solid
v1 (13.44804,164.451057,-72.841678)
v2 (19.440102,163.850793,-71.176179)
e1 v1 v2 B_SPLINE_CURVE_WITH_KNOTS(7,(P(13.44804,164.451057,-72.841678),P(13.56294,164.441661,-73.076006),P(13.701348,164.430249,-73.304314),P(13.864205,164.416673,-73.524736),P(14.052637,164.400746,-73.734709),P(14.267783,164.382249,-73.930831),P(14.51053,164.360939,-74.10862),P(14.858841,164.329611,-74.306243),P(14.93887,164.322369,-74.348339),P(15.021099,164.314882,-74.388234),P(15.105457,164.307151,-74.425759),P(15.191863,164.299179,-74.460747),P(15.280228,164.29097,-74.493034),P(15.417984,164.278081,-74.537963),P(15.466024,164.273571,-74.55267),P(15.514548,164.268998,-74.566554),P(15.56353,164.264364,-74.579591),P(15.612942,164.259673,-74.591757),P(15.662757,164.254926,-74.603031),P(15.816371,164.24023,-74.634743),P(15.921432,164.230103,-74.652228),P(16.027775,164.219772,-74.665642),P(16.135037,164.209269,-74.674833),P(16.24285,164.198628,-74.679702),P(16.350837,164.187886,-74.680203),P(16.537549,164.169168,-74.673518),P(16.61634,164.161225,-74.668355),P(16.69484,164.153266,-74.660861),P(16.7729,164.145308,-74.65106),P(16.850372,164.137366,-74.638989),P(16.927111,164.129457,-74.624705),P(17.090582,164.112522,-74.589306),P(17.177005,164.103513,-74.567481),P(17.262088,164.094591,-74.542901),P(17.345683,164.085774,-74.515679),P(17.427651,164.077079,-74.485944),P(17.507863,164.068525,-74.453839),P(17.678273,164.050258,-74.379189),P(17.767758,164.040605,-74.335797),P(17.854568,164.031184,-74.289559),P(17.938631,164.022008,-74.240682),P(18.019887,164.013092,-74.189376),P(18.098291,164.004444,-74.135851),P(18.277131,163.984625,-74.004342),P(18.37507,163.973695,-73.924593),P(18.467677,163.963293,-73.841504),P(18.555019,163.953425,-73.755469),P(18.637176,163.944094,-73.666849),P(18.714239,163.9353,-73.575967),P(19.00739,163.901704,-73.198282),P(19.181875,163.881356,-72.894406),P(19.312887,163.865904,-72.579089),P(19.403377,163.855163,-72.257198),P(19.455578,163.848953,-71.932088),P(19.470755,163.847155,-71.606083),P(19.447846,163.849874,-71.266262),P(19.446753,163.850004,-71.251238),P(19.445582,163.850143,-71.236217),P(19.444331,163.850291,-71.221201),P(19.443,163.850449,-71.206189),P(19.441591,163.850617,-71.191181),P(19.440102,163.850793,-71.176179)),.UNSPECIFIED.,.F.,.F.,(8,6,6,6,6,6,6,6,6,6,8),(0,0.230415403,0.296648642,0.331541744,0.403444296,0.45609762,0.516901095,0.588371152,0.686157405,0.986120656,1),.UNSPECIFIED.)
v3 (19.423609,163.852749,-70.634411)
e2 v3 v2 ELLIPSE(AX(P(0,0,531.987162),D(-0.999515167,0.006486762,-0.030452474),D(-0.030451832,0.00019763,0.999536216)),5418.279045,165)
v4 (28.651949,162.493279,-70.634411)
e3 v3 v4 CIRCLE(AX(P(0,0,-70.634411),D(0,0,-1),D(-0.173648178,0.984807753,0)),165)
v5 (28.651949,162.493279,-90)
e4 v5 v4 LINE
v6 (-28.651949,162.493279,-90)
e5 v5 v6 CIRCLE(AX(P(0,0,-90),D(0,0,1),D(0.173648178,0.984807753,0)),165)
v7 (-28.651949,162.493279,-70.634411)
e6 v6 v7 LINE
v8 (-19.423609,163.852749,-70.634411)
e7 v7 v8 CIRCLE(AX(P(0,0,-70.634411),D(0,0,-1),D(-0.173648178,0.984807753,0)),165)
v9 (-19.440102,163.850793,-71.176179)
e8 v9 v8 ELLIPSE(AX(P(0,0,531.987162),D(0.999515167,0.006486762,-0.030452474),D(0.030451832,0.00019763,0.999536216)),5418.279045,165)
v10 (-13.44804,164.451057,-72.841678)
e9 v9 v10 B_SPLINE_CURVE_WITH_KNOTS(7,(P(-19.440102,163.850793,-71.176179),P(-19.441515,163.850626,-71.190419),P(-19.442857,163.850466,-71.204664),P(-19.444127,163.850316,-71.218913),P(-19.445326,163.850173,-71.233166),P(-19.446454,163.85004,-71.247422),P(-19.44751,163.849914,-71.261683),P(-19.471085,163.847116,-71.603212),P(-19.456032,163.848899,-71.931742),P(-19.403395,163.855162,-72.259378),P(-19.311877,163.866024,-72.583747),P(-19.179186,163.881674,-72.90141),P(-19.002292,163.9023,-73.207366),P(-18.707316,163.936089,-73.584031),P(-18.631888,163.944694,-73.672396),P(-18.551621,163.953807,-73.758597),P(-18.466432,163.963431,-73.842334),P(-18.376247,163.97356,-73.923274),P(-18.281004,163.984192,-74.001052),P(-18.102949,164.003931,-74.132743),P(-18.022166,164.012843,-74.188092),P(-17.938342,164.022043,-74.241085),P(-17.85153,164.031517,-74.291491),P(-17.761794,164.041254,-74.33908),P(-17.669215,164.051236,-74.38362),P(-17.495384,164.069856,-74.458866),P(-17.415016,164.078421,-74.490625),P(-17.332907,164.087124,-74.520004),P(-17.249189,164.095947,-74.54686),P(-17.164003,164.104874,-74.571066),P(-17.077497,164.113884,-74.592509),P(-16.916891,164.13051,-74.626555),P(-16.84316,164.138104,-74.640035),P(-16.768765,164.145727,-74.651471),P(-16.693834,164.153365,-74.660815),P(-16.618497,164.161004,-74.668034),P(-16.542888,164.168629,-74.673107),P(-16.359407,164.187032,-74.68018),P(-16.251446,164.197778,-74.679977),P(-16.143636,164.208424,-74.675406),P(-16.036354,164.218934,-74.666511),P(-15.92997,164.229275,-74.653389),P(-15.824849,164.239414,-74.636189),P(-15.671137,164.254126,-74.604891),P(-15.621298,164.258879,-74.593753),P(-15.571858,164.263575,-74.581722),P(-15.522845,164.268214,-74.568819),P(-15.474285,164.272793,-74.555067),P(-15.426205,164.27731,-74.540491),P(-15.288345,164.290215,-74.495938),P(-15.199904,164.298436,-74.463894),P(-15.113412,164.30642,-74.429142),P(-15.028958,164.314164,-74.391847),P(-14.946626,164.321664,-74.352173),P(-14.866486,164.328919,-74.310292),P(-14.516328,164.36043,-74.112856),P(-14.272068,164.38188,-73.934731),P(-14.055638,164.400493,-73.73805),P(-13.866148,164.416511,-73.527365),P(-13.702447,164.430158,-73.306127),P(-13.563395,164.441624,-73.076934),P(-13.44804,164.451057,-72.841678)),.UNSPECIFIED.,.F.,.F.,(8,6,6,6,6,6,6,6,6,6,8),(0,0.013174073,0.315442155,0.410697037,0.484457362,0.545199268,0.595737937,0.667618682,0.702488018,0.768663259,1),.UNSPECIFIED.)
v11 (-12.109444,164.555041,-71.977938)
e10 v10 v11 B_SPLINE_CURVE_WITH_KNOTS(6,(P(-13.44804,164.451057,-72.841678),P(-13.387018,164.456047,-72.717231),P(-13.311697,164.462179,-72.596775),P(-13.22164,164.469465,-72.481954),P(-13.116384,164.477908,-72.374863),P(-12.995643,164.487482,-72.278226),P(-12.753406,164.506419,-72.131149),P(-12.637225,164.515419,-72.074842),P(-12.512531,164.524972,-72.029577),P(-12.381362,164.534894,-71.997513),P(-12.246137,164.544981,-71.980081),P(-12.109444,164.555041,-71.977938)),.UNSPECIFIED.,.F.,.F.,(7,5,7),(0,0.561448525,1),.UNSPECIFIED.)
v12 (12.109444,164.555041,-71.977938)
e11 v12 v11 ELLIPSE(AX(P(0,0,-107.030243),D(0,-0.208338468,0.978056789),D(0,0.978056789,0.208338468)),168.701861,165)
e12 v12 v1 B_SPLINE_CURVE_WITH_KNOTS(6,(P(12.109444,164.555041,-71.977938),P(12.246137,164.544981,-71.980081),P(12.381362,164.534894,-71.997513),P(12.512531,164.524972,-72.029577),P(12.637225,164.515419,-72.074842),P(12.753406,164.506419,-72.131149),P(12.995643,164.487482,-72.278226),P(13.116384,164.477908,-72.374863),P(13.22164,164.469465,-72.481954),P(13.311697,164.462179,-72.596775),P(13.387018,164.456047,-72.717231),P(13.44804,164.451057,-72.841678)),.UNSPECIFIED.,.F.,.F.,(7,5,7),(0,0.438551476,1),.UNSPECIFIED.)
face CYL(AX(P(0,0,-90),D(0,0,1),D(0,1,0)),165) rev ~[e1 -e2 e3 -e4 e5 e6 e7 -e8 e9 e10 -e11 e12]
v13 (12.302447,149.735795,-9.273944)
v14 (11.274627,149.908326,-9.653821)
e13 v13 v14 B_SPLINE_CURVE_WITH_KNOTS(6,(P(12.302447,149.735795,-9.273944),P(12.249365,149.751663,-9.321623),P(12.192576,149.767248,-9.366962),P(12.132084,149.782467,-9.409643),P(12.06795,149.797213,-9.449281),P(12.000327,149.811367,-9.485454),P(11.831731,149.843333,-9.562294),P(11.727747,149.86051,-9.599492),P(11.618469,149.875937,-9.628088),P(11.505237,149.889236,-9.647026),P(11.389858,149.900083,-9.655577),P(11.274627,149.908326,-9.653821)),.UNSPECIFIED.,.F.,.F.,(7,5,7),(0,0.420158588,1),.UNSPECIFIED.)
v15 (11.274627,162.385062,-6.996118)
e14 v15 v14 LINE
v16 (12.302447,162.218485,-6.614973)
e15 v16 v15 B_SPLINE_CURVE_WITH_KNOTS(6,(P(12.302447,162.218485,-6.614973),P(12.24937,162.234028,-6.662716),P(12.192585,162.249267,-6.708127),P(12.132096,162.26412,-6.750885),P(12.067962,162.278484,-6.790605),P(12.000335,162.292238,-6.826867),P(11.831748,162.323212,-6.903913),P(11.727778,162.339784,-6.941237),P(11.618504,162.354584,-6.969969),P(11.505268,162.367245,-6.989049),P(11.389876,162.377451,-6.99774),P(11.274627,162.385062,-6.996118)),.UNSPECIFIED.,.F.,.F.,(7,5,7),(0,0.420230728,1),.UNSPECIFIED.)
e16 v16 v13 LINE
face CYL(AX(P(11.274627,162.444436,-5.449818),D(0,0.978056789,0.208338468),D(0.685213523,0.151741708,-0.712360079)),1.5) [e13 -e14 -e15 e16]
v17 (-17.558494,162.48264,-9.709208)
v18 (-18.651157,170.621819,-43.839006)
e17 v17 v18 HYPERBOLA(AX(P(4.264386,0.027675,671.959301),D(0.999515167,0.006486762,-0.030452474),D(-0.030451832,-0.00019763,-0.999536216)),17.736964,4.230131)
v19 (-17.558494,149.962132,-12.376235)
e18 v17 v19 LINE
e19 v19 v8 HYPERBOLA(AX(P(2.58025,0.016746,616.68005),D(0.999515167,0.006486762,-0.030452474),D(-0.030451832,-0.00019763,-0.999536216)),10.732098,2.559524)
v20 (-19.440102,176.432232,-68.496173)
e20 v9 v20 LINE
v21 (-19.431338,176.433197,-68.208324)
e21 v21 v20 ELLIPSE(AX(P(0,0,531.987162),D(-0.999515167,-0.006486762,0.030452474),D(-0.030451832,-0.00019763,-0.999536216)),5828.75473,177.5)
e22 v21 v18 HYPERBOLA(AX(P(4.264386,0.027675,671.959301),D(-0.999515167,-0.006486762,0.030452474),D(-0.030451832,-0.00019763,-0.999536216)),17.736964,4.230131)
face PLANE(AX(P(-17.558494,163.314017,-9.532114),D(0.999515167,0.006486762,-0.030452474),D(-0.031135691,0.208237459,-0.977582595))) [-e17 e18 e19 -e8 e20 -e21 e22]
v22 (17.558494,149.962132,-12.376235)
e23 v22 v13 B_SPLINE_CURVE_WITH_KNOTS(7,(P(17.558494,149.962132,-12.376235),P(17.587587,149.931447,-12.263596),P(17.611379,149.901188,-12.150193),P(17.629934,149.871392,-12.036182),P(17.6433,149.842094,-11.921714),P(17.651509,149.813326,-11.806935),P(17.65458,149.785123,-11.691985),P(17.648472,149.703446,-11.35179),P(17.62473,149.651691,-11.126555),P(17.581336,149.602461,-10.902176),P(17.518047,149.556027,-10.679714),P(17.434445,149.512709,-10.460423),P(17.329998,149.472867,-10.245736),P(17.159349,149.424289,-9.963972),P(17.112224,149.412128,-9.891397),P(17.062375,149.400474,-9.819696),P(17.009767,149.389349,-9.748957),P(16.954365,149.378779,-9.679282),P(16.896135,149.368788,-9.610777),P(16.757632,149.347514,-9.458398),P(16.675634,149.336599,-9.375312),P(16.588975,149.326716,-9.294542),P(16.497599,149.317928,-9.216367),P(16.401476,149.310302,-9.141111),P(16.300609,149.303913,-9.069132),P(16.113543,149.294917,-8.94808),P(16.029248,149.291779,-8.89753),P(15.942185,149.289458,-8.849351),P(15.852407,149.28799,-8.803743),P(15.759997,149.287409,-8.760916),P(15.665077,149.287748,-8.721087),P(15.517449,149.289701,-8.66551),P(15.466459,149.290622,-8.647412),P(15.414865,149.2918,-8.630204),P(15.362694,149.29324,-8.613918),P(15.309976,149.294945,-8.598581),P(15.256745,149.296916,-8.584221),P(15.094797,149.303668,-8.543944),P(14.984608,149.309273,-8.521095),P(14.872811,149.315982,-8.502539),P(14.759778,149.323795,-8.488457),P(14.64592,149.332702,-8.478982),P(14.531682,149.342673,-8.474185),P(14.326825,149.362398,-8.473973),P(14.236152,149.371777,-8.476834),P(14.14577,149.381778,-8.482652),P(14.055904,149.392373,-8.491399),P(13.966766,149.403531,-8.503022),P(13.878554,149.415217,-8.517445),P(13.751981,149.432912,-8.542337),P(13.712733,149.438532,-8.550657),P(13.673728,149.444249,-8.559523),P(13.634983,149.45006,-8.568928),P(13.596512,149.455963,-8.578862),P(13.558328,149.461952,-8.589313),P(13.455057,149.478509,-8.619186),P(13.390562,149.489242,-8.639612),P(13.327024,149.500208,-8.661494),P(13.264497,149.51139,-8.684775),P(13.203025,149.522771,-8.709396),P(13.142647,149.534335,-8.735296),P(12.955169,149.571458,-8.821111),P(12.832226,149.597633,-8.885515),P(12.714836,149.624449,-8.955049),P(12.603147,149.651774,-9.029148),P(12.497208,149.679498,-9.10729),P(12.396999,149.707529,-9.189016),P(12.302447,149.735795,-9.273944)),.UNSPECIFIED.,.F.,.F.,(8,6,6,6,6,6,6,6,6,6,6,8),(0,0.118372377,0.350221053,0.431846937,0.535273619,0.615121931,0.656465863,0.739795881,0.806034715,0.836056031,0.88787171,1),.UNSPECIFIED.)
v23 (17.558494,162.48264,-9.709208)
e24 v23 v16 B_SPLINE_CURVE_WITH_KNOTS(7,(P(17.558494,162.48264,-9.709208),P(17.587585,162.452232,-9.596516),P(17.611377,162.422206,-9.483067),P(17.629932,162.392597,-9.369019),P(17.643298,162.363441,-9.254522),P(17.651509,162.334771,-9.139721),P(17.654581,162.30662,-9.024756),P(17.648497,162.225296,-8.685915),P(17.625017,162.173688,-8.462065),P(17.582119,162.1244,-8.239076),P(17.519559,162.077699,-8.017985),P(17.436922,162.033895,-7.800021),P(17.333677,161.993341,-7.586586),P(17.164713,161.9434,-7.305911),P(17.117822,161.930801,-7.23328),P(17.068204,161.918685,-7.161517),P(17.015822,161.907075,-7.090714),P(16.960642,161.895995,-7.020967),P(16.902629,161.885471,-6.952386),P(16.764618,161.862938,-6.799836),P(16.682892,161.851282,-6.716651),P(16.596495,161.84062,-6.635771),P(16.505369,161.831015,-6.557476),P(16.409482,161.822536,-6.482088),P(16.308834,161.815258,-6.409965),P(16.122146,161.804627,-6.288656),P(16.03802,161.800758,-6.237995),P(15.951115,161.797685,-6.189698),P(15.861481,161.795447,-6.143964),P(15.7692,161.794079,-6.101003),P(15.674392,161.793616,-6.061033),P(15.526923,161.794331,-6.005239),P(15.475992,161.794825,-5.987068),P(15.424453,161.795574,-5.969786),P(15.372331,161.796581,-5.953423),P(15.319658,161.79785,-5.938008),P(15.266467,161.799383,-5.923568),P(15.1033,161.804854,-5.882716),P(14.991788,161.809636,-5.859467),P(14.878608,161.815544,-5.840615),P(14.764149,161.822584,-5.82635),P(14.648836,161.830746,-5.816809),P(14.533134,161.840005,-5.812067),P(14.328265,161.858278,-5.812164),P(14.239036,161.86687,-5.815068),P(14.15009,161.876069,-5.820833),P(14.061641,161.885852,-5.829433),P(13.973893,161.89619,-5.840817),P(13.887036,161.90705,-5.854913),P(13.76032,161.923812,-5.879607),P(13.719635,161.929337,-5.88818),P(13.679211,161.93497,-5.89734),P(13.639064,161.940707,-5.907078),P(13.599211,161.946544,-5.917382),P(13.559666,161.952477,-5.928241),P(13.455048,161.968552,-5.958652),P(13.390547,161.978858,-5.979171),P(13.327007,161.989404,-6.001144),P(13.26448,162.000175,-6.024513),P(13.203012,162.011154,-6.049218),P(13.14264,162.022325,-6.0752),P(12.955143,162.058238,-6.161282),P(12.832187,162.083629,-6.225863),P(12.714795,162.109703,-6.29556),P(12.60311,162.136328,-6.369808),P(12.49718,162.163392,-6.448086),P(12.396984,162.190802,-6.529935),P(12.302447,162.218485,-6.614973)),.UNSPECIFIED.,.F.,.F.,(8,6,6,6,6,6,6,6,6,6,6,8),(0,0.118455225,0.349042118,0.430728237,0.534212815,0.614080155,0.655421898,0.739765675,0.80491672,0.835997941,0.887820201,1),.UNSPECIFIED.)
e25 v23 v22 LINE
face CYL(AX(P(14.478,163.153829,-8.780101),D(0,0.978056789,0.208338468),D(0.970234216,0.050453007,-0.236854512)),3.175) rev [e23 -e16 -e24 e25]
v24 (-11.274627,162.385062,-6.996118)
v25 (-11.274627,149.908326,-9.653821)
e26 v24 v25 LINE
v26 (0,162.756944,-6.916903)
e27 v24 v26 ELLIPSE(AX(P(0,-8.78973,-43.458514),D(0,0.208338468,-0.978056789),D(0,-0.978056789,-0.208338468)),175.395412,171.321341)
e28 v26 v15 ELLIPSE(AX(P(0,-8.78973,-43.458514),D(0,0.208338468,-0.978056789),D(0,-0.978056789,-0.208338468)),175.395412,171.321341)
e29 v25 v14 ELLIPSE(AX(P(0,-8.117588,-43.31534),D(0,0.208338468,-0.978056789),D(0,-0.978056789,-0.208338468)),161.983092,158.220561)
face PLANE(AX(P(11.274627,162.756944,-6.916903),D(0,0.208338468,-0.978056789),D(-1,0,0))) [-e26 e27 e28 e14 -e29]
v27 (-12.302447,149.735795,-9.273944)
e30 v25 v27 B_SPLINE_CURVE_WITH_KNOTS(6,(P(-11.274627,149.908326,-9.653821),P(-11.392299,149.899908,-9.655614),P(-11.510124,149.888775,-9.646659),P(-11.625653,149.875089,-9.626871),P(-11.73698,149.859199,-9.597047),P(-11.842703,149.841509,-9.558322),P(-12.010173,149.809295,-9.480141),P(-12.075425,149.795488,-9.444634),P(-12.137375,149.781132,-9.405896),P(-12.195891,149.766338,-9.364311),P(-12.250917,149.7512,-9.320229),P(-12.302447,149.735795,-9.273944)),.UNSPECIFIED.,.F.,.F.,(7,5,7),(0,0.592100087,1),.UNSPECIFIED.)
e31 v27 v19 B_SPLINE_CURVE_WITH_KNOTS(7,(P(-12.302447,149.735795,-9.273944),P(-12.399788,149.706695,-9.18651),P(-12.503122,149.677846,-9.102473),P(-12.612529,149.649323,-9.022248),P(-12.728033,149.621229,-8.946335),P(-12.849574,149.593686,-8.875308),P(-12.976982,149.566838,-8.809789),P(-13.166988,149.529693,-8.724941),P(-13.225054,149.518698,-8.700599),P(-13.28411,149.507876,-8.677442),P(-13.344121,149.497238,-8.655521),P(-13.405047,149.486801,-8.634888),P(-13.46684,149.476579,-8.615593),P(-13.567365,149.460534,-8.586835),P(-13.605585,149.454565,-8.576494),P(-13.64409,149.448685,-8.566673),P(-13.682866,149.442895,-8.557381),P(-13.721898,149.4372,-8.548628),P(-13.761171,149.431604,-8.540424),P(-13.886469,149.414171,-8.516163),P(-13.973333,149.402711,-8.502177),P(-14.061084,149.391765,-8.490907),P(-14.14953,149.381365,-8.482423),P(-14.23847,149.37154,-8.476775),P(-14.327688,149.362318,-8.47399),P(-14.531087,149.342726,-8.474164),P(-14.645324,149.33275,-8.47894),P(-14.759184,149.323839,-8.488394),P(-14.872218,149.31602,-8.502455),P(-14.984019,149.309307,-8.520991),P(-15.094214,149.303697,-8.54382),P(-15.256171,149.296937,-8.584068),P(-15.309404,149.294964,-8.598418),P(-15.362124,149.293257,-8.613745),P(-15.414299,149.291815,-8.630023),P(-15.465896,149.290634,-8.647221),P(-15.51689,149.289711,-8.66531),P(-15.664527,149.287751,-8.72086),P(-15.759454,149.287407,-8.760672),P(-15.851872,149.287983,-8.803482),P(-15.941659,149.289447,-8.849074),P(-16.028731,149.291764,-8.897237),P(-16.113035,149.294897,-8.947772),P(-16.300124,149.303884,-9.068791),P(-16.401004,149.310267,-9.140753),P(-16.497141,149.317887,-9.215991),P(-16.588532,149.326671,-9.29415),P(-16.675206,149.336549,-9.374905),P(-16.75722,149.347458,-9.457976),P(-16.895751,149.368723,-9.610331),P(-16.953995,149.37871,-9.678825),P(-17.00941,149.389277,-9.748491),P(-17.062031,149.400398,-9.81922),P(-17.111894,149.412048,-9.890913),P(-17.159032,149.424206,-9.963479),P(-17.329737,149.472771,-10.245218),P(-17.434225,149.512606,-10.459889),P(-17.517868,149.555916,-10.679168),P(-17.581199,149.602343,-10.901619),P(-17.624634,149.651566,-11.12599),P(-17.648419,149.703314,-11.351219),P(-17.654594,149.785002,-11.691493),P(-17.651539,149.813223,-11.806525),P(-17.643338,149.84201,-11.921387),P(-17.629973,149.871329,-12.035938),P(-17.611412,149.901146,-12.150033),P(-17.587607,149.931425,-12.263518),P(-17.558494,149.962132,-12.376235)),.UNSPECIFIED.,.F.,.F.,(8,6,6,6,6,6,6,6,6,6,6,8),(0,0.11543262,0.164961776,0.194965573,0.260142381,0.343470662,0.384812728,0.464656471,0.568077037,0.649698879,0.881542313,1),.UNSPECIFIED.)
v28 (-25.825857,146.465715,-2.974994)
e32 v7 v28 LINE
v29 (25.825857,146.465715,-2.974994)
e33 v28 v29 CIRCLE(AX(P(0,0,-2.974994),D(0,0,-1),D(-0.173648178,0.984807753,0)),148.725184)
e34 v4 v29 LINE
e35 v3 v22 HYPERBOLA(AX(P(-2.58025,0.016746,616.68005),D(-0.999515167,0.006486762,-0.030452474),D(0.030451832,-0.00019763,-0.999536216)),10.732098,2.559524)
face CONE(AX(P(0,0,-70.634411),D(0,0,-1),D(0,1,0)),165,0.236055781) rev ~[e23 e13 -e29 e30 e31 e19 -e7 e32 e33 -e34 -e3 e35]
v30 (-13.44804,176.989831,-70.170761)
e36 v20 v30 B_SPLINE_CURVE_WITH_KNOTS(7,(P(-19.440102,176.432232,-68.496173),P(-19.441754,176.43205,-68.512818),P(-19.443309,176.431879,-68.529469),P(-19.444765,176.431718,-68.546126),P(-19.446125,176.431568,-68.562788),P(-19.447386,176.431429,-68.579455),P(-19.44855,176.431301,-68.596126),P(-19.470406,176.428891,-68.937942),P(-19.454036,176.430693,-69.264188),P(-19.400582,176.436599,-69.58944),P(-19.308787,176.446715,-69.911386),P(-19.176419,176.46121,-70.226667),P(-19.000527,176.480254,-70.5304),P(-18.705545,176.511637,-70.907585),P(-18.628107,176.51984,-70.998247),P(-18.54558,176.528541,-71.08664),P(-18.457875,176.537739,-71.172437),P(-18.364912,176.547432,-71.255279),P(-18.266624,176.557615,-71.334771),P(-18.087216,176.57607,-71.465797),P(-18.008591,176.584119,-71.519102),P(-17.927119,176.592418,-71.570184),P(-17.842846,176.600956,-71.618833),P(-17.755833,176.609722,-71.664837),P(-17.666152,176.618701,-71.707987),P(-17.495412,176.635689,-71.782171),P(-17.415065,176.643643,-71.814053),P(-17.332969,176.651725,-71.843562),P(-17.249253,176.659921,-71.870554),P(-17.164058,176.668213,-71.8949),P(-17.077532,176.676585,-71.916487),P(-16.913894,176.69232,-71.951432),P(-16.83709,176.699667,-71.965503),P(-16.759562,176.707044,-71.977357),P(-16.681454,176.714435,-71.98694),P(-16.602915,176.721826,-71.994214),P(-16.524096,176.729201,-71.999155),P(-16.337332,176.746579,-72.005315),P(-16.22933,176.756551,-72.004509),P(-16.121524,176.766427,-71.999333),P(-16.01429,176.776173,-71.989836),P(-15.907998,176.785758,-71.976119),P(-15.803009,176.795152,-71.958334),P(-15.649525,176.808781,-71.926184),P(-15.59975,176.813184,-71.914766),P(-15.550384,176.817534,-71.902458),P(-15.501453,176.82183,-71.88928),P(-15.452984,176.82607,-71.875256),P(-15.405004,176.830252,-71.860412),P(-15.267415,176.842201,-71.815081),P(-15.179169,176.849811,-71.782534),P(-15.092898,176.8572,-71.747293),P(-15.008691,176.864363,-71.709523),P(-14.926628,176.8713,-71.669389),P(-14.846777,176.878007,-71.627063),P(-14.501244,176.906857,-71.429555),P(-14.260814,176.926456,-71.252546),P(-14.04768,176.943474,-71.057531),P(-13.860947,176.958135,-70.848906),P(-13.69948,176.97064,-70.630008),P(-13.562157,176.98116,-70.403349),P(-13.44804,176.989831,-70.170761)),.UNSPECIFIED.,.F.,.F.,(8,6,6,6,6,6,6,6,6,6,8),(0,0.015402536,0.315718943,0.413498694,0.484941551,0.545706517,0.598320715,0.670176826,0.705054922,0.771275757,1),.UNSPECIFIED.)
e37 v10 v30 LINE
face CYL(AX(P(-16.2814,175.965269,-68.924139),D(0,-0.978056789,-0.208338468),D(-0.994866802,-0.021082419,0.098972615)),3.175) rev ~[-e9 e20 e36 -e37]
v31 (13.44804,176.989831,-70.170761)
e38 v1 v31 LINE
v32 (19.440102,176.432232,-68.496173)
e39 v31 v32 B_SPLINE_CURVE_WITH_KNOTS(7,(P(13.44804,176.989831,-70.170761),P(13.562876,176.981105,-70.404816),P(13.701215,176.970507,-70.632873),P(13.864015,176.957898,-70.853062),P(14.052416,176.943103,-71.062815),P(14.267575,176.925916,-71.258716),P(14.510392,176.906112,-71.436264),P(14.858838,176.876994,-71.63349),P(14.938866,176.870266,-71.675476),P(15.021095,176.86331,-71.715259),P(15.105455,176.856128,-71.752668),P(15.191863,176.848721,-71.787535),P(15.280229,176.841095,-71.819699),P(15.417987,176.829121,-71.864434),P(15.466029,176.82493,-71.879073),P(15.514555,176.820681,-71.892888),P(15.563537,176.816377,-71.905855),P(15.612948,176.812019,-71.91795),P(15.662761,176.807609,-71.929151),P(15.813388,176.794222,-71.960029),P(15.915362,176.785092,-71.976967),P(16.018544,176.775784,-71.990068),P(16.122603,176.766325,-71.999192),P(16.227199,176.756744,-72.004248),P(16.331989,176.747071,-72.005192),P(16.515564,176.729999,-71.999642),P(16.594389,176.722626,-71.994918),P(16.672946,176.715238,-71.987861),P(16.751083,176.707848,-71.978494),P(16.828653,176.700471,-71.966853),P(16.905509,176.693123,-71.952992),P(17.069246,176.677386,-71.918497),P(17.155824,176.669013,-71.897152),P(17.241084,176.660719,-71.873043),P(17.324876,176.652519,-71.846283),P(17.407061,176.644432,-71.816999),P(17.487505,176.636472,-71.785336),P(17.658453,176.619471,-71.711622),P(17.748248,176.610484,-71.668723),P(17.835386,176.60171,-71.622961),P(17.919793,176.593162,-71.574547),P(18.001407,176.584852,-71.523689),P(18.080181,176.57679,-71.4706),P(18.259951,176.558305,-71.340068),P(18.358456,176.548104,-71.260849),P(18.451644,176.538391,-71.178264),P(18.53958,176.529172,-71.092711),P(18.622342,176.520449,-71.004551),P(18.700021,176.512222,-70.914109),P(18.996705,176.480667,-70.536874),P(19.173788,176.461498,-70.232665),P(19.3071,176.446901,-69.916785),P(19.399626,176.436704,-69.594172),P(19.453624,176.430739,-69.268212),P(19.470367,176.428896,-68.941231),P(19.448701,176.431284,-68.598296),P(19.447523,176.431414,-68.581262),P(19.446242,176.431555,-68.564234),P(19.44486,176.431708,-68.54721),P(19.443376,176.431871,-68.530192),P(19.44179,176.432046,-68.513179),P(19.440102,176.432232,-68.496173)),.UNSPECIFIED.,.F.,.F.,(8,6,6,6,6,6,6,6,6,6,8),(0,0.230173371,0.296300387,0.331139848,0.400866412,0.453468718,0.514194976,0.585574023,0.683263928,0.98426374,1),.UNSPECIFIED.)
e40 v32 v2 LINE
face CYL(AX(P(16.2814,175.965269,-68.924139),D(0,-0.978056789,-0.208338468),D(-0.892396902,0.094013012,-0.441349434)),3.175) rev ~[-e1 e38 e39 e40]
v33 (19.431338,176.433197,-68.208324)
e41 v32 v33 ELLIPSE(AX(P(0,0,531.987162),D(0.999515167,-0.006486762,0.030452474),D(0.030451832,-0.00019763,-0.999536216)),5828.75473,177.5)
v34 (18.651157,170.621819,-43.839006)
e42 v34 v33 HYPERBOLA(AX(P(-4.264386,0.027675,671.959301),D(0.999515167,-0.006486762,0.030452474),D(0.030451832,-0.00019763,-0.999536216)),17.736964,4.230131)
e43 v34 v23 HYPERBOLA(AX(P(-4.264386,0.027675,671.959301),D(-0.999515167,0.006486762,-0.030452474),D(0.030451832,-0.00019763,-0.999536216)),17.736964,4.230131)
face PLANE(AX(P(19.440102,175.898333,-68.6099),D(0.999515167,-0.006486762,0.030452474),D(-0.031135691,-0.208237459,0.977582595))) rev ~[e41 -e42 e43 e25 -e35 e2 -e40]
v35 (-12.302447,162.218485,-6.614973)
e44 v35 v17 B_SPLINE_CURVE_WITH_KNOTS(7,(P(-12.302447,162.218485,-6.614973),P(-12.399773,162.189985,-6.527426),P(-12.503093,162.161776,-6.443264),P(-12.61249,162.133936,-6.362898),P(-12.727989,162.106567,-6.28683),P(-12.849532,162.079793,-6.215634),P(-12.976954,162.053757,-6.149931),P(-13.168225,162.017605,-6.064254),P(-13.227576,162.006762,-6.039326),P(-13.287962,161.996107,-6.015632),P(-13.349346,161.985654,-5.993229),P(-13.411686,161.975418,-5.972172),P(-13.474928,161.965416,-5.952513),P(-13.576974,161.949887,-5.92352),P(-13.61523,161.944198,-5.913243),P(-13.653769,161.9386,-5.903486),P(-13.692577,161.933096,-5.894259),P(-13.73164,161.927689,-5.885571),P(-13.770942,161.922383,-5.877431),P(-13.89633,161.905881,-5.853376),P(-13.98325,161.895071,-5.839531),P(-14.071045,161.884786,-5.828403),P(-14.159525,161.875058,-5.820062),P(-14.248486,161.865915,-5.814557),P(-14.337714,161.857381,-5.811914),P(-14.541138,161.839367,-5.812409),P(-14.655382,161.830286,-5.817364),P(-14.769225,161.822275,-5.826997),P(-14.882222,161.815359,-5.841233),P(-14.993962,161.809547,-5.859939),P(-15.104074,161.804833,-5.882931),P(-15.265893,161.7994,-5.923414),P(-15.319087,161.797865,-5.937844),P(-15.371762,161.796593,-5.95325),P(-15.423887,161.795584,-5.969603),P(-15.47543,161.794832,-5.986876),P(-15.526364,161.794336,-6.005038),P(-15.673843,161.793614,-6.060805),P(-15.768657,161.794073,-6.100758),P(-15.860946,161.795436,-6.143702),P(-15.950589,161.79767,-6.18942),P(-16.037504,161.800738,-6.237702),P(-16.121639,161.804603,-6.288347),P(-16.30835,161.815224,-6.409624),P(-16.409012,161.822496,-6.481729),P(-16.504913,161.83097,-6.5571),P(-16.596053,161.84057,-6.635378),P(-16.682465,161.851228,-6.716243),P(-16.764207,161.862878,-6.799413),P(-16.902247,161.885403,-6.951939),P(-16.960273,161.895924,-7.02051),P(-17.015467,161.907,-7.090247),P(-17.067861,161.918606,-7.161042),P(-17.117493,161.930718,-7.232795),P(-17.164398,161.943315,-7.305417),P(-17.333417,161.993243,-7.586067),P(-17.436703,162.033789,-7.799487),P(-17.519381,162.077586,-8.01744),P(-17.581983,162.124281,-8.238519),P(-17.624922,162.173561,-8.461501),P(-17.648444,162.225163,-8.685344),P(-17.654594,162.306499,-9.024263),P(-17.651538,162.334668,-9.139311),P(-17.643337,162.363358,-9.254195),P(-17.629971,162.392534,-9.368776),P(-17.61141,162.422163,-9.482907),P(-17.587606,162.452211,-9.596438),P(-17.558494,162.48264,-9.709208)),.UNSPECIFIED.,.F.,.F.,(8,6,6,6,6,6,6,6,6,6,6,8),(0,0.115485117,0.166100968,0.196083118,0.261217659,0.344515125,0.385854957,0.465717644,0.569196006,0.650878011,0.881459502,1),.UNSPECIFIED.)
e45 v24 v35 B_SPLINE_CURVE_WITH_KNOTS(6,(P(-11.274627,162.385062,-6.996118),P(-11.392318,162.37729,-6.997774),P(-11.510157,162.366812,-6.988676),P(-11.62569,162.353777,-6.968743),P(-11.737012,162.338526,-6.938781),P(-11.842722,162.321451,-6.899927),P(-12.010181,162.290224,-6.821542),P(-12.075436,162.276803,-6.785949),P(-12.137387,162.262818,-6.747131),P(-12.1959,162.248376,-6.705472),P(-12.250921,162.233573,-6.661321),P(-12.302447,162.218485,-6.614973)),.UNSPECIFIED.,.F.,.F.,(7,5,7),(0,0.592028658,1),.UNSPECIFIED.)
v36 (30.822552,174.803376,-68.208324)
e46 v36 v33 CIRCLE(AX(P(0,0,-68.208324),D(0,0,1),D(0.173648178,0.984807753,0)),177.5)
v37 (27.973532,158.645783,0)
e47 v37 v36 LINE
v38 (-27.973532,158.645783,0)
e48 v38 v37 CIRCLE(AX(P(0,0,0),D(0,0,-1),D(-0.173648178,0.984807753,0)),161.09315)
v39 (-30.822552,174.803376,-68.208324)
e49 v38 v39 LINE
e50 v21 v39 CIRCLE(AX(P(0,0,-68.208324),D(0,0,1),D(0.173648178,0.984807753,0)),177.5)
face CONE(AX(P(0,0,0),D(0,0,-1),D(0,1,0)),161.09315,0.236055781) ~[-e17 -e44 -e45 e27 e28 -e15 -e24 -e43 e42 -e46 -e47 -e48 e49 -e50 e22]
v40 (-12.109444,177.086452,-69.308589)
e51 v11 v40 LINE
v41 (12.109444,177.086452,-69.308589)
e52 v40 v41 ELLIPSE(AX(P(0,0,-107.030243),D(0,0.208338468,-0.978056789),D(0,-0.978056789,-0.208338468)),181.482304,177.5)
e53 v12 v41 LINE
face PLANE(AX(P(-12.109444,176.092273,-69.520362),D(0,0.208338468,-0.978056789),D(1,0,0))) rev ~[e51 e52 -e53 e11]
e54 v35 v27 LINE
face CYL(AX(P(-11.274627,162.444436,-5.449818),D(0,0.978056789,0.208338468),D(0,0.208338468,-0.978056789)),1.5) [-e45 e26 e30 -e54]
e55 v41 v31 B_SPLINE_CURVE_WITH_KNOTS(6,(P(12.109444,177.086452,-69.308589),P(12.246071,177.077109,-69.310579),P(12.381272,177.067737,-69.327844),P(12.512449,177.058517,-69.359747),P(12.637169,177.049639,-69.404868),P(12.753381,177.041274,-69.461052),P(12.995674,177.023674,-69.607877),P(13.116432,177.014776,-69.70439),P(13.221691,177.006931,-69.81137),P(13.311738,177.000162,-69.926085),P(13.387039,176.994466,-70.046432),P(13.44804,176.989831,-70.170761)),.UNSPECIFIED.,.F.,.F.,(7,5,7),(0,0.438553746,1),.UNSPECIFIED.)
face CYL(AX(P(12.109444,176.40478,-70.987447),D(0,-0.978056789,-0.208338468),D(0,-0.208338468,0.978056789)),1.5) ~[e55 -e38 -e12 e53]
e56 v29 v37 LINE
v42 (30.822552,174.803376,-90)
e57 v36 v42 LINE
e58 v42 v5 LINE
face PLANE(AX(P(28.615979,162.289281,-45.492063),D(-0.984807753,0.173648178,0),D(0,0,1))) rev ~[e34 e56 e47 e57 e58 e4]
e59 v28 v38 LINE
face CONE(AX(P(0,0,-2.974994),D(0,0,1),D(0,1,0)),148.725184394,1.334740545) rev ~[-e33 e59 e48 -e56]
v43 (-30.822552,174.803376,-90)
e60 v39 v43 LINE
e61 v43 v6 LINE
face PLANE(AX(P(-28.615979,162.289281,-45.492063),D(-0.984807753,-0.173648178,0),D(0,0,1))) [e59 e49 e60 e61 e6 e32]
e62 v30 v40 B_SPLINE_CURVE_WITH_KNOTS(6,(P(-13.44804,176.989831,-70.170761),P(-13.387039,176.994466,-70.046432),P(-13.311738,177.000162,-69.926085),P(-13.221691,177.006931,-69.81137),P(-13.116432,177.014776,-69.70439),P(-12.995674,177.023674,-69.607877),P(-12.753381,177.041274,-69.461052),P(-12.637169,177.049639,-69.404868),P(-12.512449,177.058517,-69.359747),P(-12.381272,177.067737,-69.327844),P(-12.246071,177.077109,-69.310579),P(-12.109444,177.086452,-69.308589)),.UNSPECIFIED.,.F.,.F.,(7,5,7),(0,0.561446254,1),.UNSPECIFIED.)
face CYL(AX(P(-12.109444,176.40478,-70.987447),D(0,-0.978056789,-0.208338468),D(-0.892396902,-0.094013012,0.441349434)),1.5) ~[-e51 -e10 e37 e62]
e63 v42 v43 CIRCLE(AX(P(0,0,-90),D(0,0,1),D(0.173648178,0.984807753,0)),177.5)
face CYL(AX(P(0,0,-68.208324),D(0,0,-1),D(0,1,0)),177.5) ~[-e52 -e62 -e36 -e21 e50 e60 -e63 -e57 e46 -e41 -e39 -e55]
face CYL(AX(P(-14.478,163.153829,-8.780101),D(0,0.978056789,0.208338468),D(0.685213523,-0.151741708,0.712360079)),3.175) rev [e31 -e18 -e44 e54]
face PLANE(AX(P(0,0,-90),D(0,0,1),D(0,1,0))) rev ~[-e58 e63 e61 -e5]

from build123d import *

# Parameters (mm, degrees)
ROTATION1_ANGLE                      = 20
SCHNITT_LINEAR_AUSTRAGEN2_DEPTH      = 15.24
SCHNITT_LINEAR_AUSTRAGEN2_DEPTH_BACK = 2.54


with BuildPart() as part:
    # Skizze1 → Rotation1 (revolve, symmetric)
    with BuildSketch(Plane(origin=(0, 0, 0), x_dir=(0, 0, -1), z_dir=(1, 0, 0))) as rotation1_sk:
        Polygon((0, 161.09315), (68.208324134, 177.5), (90, 177.5), (90, 165), (70.634410551, 165), (2.974994021, 148.725184394), align=None)
    revolve(axis=Axis((0, 0, 0), (0, 0, -1)), revolution_arc=ROTATION1_ANGLE / 2)
    revolve(rotation1_sk.sketch, axis=Axis((0, 0, 0), (0, 0, 1)), revolution_arc=ROTATION1_ANGLE / 2)

    # Skizze4 → Schnitt-Linear austragen2 (cut, two sides)
    with BuildSketch(Plane(origin=(0, 169.424608185, -38.218632457), x_dir=(-1, 0, 0), z_dir=(0, -0.978056789, -0.208338468))) as schnitt_linear_austragen2_sk:
        with BuildLine():
            Line((12.109444482, 32.004), (-12.109444482, 32.004))
            ThreePointArc((-12.109444482, 32.004), (-12.895155782, 32.226245034), (-13.448039836, 32.827122995))
            ThreePointArc((-13.448039836, 32.827122995), (-17.173364468, 34.441533799), (-19.440102095, 31.073111855))
            Line((-19.440102095, 31.073111855), (-17.558493636, -29.330115121))
            ThreePointArc((-17.558493636, -29.330115121), (-16.083752787, -32.838011315), (-12.302447063, -32.411486631))
            ThreePointArc((-12.302447063, -32.411486631), (-11.827451319, -32.109587928), (-11.274626778, -32.004))
            Line((-11.274626778, -32.004), (11.274626778, -32.004))
            ThreePointArc((11.274626778, -32.004), (11.827451319, -32.109587928), (12.302447063, -32.411486631))
            ThreePointArc((12.302447063, -32.411486631), (16.083752787, -32.838011315), (17.558493636, -29.330115121))
            Line((17.558493636, -29.330115121), (19.440102095, 31.073111855))
            ThreePointArc((19.440102095, 31.073111855), (17.173364468, 34.441533799), (13.448039836, 32.827122995))
            ThreePointArc((13.448039836, 32.827122995), (12.895155782, 32.226245034), (12.109444482, 32.004))
        make_face()
    extrude(amount=SCHNITT_LINEAR_AUSTRAGEN2_DEPTH, mode=Mode.SUBTRACT)
    extrude(schnitt_linear_austragen2_sk.sketch, amount=-SCHNITT_LINEAR_AUSTRAGEN2_DEPTH_BACK, mode=Mode.SUBTRACT)


solid = part.part
